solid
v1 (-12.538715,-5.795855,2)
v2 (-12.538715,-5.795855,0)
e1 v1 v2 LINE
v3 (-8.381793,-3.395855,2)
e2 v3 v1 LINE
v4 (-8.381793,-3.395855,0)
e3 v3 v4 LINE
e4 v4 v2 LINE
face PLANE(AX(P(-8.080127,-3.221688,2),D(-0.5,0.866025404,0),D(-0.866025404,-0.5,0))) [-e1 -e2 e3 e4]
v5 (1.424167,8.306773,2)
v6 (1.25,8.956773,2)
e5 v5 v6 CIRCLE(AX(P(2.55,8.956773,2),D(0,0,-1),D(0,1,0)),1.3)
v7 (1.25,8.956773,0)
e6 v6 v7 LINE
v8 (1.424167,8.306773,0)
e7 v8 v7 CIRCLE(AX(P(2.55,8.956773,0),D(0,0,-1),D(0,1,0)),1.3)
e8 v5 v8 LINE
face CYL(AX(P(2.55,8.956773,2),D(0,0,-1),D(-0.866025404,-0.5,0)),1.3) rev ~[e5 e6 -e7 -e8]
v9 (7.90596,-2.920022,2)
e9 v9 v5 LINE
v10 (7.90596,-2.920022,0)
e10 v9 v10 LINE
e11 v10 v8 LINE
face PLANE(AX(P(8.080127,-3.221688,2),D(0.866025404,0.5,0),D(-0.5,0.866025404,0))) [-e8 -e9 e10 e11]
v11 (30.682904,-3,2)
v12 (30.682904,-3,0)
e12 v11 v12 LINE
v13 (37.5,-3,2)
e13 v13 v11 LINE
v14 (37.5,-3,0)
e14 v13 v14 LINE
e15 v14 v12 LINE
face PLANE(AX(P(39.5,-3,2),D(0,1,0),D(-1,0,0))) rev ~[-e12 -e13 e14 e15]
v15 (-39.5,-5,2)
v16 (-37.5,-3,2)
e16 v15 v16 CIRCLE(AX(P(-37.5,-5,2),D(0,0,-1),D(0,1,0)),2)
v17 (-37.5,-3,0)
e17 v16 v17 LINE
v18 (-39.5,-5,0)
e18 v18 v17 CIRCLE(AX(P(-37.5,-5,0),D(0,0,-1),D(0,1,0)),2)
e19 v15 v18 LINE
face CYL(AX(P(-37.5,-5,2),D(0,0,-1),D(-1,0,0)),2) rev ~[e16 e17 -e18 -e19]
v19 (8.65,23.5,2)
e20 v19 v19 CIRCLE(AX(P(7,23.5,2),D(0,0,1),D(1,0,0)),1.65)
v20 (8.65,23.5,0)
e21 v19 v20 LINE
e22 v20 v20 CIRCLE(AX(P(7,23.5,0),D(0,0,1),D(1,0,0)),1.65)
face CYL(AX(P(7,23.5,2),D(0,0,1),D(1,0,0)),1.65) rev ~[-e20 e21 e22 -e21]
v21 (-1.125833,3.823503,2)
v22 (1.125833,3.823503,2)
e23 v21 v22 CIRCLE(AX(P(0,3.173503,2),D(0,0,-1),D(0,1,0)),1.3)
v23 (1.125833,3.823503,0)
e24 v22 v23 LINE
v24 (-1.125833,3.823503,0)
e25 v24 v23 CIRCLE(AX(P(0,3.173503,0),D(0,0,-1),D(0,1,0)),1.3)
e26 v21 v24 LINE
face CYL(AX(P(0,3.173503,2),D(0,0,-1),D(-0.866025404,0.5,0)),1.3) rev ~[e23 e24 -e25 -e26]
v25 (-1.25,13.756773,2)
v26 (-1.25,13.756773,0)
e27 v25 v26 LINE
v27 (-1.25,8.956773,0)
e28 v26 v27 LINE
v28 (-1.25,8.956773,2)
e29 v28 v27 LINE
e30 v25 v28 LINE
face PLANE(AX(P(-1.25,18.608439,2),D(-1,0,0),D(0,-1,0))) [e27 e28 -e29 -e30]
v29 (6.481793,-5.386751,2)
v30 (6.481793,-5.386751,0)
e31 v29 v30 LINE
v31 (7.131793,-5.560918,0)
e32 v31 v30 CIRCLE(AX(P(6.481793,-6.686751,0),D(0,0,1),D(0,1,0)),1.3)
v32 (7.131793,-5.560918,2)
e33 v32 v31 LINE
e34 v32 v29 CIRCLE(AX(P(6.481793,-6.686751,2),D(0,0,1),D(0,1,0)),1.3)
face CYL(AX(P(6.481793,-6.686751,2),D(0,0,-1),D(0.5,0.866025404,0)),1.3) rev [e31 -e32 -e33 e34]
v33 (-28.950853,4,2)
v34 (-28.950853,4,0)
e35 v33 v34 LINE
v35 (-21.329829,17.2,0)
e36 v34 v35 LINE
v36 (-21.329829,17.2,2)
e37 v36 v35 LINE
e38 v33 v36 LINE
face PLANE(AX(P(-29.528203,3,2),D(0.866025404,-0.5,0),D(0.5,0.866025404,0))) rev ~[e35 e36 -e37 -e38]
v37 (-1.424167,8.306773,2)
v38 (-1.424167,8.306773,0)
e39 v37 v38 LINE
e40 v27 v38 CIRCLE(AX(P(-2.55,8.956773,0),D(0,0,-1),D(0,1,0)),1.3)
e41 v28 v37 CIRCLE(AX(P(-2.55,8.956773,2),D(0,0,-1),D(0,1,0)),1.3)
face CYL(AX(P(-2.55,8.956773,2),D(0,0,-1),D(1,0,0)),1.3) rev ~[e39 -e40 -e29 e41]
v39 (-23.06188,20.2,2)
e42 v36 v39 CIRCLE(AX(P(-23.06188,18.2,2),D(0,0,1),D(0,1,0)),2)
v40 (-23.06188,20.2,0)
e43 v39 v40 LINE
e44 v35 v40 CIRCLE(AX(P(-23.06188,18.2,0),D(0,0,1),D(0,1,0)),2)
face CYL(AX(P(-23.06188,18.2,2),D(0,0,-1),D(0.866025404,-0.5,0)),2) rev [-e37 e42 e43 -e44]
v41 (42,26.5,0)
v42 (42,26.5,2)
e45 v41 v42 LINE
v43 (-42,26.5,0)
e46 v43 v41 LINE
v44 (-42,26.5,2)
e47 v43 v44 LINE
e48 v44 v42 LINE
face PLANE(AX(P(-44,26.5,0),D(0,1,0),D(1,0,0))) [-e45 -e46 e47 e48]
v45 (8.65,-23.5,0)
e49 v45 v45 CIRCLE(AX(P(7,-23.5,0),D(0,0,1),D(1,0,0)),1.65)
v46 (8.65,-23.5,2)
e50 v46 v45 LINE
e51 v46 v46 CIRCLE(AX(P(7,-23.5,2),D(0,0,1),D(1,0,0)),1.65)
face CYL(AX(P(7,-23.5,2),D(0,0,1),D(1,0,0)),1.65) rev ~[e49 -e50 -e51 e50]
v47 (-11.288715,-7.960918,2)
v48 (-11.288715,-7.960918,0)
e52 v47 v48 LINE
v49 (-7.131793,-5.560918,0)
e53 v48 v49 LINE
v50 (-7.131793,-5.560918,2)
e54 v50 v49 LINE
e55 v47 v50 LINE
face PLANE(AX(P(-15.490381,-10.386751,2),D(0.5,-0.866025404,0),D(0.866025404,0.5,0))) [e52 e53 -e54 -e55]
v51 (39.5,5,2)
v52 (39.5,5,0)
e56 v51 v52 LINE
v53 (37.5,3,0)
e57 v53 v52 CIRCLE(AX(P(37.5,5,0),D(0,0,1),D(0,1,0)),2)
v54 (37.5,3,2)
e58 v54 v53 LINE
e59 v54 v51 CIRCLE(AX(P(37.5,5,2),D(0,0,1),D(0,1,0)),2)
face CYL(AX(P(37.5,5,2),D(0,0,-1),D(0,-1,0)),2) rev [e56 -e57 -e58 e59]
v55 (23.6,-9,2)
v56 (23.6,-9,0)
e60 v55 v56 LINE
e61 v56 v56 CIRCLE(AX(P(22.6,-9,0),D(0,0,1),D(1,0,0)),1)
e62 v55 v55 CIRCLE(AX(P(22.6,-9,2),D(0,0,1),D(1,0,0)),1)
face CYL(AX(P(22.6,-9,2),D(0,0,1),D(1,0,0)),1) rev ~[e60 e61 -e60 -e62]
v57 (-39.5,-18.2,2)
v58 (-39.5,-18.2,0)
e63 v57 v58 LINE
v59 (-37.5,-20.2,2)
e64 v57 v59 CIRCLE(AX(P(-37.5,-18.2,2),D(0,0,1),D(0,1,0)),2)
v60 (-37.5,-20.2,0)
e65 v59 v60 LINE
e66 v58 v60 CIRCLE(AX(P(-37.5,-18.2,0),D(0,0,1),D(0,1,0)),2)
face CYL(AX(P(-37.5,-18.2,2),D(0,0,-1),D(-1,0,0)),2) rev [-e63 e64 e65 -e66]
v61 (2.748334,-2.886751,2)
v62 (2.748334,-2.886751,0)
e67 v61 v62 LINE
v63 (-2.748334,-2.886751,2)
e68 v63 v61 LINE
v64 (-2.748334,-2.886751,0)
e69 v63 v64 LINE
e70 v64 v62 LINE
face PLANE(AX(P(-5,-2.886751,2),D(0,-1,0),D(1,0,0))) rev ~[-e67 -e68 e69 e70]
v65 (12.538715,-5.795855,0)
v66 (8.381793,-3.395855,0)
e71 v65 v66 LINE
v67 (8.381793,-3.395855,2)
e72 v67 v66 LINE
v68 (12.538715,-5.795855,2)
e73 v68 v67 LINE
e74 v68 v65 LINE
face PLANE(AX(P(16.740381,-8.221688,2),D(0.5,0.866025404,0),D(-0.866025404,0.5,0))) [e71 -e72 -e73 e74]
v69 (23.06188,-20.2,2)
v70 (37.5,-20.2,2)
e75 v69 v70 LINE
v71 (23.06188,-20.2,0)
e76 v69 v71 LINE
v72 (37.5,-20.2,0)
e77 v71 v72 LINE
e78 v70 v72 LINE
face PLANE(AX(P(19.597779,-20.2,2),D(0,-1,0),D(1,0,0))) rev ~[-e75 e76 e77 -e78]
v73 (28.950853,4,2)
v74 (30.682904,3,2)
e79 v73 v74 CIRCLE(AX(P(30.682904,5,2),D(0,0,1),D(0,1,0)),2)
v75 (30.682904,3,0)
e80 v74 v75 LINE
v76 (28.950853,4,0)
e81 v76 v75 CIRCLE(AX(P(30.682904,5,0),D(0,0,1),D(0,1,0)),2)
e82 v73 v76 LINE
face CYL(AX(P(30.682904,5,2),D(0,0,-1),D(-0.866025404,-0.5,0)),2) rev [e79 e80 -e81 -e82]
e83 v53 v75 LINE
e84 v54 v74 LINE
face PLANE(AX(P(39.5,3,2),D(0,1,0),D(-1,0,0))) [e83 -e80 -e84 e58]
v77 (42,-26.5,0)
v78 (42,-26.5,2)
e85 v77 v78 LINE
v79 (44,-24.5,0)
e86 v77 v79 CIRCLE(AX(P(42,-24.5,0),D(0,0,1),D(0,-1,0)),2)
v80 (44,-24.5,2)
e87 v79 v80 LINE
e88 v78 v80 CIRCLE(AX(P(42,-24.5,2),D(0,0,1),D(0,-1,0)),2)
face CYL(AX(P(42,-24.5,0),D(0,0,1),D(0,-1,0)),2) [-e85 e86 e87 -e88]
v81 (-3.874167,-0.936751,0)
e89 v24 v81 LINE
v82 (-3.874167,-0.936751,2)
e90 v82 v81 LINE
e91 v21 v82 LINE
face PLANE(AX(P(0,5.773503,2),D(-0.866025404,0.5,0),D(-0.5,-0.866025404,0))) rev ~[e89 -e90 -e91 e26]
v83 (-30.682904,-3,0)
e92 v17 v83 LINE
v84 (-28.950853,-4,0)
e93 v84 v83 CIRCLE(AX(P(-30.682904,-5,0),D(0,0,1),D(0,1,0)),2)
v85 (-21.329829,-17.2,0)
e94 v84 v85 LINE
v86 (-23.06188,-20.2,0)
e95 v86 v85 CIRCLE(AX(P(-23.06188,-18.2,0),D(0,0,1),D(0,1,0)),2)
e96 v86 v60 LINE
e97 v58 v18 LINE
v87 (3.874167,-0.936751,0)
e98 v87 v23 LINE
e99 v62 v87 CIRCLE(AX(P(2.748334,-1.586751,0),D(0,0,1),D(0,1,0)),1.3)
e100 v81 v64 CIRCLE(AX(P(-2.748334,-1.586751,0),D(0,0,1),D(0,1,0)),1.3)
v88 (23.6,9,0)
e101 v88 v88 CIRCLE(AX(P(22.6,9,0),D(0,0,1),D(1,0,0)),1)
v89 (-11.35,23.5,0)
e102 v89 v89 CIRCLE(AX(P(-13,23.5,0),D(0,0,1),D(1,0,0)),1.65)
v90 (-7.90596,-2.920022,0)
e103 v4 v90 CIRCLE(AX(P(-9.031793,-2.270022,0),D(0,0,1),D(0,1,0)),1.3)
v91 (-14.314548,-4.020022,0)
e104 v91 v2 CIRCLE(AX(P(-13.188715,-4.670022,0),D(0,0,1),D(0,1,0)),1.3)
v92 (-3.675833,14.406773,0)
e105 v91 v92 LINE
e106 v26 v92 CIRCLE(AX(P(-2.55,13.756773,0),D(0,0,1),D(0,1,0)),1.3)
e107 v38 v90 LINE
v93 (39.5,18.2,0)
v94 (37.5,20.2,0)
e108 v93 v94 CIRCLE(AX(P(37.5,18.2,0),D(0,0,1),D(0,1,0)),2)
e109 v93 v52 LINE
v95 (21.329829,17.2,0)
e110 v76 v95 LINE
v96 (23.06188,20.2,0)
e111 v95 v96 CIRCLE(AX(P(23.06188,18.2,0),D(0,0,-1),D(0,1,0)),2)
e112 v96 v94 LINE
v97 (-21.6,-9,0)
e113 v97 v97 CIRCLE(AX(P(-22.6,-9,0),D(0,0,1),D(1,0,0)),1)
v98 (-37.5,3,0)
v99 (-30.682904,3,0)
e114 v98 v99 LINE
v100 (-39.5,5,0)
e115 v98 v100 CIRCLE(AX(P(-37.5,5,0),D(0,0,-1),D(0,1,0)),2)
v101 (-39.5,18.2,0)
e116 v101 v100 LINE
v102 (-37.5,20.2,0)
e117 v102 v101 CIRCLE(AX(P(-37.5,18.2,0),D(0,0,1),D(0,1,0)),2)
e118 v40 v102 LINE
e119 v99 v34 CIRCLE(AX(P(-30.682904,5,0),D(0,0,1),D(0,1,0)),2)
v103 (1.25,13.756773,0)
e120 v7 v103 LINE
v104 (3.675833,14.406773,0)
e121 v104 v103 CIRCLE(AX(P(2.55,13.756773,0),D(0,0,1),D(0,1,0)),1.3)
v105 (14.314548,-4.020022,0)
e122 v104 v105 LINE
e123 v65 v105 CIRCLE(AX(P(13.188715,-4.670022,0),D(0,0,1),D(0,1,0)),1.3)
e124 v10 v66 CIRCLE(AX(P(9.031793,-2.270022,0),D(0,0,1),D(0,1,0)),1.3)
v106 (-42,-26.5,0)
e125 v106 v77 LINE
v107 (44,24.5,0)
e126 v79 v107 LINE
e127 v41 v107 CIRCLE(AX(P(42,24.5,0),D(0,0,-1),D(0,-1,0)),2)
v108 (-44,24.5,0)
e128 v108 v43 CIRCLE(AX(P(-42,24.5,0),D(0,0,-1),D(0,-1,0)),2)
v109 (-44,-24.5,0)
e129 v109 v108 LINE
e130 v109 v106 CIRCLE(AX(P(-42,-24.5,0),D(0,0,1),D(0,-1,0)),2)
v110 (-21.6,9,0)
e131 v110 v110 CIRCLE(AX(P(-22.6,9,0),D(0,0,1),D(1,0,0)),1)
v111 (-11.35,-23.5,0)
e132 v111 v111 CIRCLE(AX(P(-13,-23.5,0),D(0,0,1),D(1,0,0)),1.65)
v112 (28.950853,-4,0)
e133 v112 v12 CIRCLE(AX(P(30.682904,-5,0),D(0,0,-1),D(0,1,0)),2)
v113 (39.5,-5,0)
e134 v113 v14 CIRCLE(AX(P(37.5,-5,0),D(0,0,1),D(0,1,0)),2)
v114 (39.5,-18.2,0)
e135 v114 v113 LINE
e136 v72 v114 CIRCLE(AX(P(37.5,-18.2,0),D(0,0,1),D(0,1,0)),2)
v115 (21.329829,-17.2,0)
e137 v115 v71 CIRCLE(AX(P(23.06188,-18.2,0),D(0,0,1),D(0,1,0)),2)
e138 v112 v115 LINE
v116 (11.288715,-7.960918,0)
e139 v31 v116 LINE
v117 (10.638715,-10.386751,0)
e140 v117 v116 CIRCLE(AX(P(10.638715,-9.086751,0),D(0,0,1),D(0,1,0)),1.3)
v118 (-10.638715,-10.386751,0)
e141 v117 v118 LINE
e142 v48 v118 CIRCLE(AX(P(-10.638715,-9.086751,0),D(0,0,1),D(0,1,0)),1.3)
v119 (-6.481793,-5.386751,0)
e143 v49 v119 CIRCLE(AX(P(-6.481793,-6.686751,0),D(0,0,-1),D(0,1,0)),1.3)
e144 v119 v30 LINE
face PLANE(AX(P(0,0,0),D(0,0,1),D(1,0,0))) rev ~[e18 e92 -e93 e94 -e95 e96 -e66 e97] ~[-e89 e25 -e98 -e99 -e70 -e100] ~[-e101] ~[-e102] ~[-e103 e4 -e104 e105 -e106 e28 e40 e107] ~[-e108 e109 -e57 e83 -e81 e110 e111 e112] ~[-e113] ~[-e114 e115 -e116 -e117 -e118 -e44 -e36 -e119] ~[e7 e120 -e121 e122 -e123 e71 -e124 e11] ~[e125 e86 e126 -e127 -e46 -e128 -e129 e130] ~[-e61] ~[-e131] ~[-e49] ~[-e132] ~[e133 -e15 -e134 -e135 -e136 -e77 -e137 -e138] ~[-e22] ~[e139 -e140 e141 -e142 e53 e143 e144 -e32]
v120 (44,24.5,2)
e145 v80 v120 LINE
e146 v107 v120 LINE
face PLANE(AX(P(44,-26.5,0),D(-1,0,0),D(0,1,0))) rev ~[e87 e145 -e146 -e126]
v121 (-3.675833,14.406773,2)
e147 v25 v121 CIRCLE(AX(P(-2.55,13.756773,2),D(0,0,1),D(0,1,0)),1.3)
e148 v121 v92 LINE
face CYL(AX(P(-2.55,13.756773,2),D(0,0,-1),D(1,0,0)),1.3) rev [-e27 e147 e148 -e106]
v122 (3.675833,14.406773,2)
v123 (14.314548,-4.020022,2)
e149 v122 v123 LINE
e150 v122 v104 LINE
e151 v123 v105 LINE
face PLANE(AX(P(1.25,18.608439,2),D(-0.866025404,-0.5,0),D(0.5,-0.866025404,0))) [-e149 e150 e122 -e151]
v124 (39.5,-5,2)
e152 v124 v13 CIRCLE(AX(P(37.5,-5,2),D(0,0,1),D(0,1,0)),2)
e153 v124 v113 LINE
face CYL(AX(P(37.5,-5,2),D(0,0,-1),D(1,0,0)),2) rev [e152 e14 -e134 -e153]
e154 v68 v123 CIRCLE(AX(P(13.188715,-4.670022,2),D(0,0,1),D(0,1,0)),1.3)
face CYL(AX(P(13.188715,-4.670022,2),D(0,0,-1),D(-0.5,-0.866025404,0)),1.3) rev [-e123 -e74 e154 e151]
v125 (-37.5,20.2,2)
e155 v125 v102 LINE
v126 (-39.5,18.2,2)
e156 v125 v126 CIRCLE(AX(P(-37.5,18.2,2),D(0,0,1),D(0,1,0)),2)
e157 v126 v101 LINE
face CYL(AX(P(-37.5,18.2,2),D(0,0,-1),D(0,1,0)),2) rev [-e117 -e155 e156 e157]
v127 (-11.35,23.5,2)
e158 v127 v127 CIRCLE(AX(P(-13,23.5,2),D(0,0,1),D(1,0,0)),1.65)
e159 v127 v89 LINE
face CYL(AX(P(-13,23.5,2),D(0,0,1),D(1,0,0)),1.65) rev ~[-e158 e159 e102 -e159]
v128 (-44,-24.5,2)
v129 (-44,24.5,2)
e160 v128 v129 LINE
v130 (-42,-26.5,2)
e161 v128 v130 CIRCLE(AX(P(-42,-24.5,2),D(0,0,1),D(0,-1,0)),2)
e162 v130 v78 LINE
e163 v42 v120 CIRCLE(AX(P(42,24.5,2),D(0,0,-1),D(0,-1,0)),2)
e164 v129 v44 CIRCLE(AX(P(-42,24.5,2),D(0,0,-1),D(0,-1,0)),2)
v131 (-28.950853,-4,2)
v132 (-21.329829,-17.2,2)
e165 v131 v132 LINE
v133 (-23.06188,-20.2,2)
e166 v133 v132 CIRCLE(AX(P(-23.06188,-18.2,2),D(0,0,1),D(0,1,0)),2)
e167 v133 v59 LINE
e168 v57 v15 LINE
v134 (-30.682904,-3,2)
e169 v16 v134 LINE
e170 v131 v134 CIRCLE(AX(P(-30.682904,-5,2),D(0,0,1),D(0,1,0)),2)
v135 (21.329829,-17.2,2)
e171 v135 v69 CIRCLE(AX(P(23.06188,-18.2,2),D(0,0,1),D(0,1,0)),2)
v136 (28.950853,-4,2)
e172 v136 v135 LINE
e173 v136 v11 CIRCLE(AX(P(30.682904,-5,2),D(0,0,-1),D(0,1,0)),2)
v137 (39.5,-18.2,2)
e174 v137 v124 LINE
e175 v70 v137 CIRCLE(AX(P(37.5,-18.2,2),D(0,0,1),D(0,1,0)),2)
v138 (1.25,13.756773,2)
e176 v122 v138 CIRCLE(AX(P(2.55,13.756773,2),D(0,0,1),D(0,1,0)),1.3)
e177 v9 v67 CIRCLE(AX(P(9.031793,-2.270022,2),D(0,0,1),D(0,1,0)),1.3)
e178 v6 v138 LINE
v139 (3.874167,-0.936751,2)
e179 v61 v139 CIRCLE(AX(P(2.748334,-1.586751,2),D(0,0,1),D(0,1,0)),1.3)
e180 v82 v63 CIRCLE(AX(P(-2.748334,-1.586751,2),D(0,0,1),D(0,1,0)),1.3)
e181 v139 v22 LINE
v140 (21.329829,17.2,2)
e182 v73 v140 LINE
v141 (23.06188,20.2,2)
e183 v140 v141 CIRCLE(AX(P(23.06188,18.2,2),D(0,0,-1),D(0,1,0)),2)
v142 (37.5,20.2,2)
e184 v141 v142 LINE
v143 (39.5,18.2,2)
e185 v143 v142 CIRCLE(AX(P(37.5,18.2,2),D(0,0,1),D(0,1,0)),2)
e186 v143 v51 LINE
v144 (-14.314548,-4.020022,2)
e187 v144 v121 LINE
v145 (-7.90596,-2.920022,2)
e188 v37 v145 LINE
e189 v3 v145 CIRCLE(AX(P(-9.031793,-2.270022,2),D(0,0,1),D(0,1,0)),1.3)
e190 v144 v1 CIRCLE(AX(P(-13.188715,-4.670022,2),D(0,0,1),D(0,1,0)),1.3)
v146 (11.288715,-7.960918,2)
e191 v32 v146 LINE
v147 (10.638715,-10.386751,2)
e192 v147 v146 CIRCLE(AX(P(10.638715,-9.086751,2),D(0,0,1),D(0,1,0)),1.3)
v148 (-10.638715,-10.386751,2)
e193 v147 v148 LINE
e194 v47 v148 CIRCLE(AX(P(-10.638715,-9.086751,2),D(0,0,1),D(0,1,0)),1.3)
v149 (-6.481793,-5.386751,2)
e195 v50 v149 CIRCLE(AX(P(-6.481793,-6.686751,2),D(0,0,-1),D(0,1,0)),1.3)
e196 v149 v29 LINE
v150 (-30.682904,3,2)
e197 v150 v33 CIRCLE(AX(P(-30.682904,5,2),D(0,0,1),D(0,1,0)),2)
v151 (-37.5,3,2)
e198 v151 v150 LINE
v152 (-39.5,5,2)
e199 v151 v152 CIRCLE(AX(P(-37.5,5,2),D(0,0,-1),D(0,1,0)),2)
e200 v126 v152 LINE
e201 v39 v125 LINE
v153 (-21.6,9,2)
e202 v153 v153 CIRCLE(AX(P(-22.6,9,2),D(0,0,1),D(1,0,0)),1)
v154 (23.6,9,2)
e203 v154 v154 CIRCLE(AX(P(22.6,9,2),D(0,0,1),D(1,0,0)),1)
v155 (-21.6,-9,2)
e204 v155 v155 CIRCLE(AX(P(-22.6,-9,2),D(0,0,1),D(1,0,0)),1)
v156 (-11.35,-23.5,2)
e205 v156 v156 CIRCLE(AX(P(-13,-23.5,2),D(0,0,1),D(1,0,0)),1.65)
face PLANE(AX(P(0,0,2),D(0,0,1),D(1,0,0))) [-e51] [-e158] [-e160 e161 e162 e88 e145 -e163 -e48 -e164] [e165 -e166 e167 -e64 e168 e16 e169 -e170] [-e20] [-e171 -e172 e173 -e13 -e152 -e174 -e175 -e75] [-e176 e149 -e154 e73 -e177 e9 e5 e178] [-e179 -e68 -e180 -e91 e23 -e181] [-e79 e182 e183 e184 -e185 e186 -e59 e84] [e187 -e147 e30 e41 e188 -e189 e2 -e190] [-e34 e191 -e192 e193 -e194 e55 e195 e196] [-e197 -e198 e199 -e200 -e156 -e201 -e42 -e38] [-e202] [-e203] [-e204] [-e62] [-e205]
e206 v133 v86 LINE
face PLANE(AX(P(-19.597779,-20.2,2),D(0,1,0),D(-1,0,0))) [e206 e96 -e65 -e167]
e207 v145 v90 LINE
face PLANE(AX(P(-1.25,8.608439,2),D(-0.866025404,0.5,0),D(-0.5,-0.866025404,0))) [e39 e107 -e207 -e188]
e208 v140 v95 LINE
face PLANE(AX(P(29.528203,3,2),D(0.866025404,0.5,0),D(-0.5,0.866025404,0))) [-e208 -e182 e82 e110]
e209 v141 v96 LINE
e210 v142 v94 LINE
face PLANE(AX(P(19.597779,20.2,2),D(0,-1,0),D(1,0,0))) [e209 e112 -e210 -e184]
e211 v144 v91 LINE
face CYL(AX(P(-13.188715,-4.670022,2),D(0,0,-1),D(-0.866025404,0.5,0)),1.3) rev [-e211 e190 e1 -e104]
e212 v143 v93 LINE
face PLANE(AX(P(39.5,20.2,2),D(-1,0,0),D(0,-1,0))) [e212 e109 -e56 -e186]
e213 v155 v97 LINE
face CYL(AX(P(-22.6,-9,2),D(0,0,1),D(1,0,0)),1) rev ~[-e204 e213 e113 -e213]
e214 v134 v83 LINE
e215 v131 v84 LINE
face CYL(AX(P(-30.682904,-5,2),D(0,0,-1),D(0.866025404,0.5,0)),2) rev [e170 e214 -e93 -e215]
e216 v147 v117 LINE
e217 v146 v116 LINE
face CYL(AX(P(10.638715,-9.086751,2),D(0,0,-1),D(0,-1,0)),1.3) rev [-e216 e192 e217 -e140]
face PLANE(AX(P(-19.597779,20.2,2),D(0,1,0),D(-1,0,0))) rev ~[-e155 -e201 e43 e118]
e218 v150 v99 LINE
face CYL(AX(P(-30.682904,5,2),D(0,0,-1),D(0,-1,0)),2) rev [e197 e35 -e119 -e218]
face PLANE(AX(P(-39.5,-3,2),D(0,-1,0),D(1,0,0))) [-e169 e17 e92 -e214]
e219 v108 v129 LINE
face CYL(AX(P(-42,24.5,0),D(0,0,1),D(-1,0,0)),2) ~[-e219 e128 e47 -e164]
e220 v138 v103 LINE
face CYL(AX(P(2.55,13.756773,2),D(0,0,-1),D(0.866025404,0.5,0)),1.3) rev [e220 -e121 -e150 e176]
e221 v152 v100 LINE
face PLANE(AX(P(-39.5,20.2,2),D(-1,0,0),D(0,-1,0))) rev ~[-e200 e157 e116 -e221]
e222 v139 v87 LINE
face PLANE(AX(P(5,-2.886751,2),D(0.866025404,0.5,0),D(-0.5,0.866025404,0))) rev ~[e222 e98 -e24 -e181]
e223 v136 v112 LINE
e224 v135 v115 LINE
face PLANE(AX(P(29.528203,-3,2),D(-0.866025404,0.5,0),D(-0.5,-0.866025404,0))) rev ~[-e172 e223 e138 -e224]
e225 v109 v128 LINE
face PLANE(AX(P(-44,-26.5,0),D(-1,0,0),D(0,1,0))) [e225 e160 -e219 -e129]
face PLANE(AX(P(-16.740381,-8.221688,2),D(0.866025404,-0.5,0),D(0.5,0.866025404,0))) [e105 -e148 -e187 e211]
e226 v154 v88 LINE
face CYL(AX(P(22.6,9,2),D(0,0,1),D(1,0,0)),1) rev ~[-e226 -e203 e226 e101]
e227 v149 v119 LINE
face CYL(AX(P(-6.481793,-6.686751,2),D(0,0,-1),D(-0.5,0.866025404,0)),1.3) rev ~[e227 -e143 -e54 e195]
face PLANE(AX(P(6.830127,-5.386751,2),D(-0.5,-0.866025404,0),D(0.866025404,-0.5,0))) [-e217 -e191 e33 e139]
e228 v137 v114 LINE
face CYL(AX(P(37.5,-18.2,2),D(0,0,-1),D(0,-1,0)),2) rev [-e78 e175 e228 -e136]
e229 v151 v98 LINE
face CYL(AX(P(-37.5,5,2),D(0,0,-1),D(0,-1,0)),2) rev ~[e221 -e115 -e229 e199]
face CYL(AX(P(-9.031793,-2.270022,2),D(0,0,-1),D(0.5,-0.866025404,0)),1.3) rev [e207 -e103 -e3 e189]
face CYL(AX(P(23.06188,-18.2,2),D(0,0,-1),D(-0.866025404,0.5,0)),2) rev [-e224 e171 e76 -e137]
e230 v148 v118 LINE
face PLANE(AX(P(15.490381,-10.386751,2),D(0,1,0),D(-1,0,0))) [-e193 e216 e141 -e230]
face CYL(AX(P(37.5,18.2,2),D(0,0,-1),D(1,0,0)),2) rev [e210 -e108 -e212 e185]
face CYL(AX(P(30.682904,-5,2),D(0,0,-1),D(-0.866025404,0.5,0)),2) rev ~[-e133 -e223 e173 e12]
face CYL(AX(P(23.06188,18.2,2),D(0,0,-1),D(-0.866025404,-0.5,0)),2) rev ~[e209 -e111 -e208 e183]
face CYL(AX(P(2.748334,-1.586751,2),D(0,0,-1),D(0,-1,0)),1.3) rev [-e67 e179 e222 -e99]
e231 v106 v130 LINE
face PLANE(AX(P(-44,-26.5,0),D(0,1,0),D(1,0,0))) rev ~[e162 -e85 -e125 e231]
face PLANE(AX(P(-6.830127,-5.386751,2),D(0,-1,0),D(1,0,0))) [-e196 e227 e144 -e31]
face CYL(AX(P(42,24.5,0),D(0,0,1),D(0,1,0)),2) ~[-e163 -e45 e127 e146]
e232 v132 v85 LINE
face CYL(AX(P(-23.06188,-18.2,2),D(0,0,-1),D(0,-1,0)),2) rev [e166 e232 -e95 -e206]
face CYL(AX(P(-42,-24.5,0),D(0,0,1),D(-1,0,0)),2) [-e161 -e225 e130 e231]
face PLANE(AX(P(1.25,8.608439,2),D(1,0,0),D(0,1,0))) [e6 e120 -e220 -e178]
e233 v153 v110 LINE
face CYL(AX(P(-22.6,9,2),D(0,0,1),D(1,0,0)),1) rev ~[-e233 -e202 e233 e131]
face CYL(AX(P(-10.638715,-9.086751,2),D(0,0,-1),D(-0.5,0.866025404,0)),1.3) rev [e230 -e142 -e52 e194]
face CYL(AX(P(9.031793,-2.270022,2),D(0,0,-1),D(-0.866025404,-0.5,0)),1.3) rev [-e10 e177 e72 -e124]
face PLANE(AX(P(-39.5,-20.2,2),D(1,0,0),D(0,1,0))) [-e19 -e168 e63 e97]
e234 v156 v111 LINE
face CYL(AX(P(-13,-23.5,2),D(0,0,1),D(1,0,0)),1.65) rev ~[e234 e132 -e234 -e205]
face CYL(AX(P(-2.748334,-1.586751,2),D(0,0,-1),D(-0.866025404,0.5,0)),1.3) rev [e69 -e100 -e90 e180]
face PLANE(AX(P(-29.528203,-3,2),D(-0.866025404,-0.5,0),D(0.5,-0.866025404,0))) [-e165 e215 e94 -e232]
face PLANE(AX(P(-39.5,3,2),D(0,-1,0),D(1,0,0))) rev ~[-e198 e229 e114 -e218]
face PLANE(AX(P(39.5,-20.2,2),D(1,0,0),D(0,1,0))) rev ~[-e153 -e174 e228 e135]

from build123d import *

# Parameters (mm, degrees)
SKETCH_1_W          = 88
SKETCH_1_H          = 53
EXTRUDE_1_DEPTH     = 2
SKETCH_2_R          = 1.65
SKETCH_2_R_2        = 1
CUT_EXTRUDE_1_DEPTH = 10
CUT_EXTRUDE_2_DEPTH = 10
FILLET_1_R          = 1.3
FILLET_4_R          = 2
CUT_EXTRUDE_6_DEPTH = 10
FILLET_5_R          = 2


with BuildPart() as part:
    # 草图1 → 凸台-拉伸1 (new body)
    with BuildSketch(Plane.XY):
        Rectangle(SKETCH_1_W, SKETCH_1_H)
    extrude(amount=EXTRUDE_1_DEPTH)

    # 草图2 → 切除-拉伸1 (cut)
    with BuildSketch(Plane.XY.offset(2)):
        with Locations((7, -23.5)):
            Circle(SKETCH_2_R)
        with Locations((-13, -23.5)):
            Circle(SKETCH_2_R)
        with Locations((-13, 23.5)):
            Circle(SKETCH_2_R)
        with Locations((7, 23.5)):
            Circle(SKETCH_2_R)
        with Locations((22.6, 9)):
            Circle(SKETCH_2_R_2)
        with Locations((22.6, -9)):
            Circle(SKETCH_2_R_2)
        with Locations((-22.6, -9)):
            Circle(SKETCH_2_R_2)
        with Locations((-22.6, 9)):
            Circle(SKETCH_2_R_2)
    extrude(amount=-CUT_EXTRUDE_1_DEPTH, mode=Mode.SUBTRACT)

    # 草图3 → 切除-拉伸2 (cut)
    with BuildSketch(Plane.XY.offset(2)):
        Polygon((0, 5.773502692), (-5, -2.886751346), (5, -2.886751346), align=None)
        Polygon((1.25, 8.608439182), (1.25, 18.608439182), (16.740381057, -8.221687836), (8.080127019, -3.221687836), align=None)
        Polygon((-6.830127019, -5.386751346), (6.830127019, -5.386751346), (15.490381057, -10.386751346), (-15.490381057, -10.386751346), align=None)
        Polygon((-1.25, 8.608439182), (-8.080127019, -3.221687836), (-16.740381057, -8.221687836), (-1.25, 18.608439182), align=None)
    extrude(amount=-CUT_EXTRUDE_2_DEPTH, mode=Mode.SUBTRACT)

    # 圆角1
    fillet_1_edges = [part.edges().sort_by_distance(p)[0] for p in [
        (6.830127019, -5.386751346, 1),
        (15.490381057, -10.386751346, 1),
        (-15.490381057, -10.386751346, 1),
        (-6.830127019, -5.386751346, 1),
        (8.080127019, -3.221687836, 1),
        (1.25, 8.608439182, 1),
        (1.25, 18.608439182, 1),
        (16.740381057, -8.221687836, 1),
        (-8.080127019, -3.221687836, 1),
        (-16.740381057, -8.221687836, 1),
        (-1.25, 18.608439182, 1),
        (-1.25, 8.608439182, 1),
        (5, -2.886751346, 1),
        (-5, -2.886751346, 1),
        (0, 5.773502692, 1),
    ]]
    fillet(fillet_1_edges, radius=FILLET_1_R)

    # 圆角4
    fillet_4_edges = [part.edges().sort_by_distance(p)[0] for p in [
        (44, -26.5, 1),
        (-44, -26.5, 1),
        (-44, 26.5, 1),
        (44, 26.5, 1),
    ]]
    fillet(fillet_4_edges, radius=FILLET_4_R)

    # 草图7 → 切除-拉伸6 (cut)
    with BuildSketch(Plane.XY.offset(2)):
        Polygon((19.5977786, 20.2), (39.5, 20.2), (39.5, 3), (29.52820323, 3), align=None)
        Polygon((29.52820323, -3), (19.5977786, -20.2), (39.5, -20.2), (39.5, -3), align=None)
        Polygon((-39.5, -3), (-29.52820323, -3), (-19.5977786, -20.2), (-39.5, -20.2), align=None)
        Polygon((-39.5, 3), (-29.52820323, 3), (-19.5977786, 20.2), (-39.5, 20.2), align=None)
    extrude(amount=-CUT_EXTRUDE_6_DEPTH, mode=Mode.SUBTRACT)

    # 圆角5
    fillet_5_edges = [part.edges().sort_by_distance(p)[0] for p in [
        (-39.5, 3, 1),
        (-39.5, 20.2, 1),
        (-19.5977786, 20.2, 1),
        (-29.52820323, 3, 1),
        (29.52820323, -3, 1),
        (39.5, -3, 1),
        (39.5, -20.2, 1),
        (19.5977786, -20.2, 1),
        (-39.5, -20.2, 1),
        (-39.5, -3, 1),
        (-29.52820323, -3, 1),
        (-19.5977786, -20.2, 1),
        (29.52820323, 3, 1),
        (19.5977786, 20.2, 1),
        (39.5, 20.2, 1),
        (39.5, 3, 1),
    ]]
    fillet(fillet_5_edges, radius=FILLET_5_R)


solid = part.part
